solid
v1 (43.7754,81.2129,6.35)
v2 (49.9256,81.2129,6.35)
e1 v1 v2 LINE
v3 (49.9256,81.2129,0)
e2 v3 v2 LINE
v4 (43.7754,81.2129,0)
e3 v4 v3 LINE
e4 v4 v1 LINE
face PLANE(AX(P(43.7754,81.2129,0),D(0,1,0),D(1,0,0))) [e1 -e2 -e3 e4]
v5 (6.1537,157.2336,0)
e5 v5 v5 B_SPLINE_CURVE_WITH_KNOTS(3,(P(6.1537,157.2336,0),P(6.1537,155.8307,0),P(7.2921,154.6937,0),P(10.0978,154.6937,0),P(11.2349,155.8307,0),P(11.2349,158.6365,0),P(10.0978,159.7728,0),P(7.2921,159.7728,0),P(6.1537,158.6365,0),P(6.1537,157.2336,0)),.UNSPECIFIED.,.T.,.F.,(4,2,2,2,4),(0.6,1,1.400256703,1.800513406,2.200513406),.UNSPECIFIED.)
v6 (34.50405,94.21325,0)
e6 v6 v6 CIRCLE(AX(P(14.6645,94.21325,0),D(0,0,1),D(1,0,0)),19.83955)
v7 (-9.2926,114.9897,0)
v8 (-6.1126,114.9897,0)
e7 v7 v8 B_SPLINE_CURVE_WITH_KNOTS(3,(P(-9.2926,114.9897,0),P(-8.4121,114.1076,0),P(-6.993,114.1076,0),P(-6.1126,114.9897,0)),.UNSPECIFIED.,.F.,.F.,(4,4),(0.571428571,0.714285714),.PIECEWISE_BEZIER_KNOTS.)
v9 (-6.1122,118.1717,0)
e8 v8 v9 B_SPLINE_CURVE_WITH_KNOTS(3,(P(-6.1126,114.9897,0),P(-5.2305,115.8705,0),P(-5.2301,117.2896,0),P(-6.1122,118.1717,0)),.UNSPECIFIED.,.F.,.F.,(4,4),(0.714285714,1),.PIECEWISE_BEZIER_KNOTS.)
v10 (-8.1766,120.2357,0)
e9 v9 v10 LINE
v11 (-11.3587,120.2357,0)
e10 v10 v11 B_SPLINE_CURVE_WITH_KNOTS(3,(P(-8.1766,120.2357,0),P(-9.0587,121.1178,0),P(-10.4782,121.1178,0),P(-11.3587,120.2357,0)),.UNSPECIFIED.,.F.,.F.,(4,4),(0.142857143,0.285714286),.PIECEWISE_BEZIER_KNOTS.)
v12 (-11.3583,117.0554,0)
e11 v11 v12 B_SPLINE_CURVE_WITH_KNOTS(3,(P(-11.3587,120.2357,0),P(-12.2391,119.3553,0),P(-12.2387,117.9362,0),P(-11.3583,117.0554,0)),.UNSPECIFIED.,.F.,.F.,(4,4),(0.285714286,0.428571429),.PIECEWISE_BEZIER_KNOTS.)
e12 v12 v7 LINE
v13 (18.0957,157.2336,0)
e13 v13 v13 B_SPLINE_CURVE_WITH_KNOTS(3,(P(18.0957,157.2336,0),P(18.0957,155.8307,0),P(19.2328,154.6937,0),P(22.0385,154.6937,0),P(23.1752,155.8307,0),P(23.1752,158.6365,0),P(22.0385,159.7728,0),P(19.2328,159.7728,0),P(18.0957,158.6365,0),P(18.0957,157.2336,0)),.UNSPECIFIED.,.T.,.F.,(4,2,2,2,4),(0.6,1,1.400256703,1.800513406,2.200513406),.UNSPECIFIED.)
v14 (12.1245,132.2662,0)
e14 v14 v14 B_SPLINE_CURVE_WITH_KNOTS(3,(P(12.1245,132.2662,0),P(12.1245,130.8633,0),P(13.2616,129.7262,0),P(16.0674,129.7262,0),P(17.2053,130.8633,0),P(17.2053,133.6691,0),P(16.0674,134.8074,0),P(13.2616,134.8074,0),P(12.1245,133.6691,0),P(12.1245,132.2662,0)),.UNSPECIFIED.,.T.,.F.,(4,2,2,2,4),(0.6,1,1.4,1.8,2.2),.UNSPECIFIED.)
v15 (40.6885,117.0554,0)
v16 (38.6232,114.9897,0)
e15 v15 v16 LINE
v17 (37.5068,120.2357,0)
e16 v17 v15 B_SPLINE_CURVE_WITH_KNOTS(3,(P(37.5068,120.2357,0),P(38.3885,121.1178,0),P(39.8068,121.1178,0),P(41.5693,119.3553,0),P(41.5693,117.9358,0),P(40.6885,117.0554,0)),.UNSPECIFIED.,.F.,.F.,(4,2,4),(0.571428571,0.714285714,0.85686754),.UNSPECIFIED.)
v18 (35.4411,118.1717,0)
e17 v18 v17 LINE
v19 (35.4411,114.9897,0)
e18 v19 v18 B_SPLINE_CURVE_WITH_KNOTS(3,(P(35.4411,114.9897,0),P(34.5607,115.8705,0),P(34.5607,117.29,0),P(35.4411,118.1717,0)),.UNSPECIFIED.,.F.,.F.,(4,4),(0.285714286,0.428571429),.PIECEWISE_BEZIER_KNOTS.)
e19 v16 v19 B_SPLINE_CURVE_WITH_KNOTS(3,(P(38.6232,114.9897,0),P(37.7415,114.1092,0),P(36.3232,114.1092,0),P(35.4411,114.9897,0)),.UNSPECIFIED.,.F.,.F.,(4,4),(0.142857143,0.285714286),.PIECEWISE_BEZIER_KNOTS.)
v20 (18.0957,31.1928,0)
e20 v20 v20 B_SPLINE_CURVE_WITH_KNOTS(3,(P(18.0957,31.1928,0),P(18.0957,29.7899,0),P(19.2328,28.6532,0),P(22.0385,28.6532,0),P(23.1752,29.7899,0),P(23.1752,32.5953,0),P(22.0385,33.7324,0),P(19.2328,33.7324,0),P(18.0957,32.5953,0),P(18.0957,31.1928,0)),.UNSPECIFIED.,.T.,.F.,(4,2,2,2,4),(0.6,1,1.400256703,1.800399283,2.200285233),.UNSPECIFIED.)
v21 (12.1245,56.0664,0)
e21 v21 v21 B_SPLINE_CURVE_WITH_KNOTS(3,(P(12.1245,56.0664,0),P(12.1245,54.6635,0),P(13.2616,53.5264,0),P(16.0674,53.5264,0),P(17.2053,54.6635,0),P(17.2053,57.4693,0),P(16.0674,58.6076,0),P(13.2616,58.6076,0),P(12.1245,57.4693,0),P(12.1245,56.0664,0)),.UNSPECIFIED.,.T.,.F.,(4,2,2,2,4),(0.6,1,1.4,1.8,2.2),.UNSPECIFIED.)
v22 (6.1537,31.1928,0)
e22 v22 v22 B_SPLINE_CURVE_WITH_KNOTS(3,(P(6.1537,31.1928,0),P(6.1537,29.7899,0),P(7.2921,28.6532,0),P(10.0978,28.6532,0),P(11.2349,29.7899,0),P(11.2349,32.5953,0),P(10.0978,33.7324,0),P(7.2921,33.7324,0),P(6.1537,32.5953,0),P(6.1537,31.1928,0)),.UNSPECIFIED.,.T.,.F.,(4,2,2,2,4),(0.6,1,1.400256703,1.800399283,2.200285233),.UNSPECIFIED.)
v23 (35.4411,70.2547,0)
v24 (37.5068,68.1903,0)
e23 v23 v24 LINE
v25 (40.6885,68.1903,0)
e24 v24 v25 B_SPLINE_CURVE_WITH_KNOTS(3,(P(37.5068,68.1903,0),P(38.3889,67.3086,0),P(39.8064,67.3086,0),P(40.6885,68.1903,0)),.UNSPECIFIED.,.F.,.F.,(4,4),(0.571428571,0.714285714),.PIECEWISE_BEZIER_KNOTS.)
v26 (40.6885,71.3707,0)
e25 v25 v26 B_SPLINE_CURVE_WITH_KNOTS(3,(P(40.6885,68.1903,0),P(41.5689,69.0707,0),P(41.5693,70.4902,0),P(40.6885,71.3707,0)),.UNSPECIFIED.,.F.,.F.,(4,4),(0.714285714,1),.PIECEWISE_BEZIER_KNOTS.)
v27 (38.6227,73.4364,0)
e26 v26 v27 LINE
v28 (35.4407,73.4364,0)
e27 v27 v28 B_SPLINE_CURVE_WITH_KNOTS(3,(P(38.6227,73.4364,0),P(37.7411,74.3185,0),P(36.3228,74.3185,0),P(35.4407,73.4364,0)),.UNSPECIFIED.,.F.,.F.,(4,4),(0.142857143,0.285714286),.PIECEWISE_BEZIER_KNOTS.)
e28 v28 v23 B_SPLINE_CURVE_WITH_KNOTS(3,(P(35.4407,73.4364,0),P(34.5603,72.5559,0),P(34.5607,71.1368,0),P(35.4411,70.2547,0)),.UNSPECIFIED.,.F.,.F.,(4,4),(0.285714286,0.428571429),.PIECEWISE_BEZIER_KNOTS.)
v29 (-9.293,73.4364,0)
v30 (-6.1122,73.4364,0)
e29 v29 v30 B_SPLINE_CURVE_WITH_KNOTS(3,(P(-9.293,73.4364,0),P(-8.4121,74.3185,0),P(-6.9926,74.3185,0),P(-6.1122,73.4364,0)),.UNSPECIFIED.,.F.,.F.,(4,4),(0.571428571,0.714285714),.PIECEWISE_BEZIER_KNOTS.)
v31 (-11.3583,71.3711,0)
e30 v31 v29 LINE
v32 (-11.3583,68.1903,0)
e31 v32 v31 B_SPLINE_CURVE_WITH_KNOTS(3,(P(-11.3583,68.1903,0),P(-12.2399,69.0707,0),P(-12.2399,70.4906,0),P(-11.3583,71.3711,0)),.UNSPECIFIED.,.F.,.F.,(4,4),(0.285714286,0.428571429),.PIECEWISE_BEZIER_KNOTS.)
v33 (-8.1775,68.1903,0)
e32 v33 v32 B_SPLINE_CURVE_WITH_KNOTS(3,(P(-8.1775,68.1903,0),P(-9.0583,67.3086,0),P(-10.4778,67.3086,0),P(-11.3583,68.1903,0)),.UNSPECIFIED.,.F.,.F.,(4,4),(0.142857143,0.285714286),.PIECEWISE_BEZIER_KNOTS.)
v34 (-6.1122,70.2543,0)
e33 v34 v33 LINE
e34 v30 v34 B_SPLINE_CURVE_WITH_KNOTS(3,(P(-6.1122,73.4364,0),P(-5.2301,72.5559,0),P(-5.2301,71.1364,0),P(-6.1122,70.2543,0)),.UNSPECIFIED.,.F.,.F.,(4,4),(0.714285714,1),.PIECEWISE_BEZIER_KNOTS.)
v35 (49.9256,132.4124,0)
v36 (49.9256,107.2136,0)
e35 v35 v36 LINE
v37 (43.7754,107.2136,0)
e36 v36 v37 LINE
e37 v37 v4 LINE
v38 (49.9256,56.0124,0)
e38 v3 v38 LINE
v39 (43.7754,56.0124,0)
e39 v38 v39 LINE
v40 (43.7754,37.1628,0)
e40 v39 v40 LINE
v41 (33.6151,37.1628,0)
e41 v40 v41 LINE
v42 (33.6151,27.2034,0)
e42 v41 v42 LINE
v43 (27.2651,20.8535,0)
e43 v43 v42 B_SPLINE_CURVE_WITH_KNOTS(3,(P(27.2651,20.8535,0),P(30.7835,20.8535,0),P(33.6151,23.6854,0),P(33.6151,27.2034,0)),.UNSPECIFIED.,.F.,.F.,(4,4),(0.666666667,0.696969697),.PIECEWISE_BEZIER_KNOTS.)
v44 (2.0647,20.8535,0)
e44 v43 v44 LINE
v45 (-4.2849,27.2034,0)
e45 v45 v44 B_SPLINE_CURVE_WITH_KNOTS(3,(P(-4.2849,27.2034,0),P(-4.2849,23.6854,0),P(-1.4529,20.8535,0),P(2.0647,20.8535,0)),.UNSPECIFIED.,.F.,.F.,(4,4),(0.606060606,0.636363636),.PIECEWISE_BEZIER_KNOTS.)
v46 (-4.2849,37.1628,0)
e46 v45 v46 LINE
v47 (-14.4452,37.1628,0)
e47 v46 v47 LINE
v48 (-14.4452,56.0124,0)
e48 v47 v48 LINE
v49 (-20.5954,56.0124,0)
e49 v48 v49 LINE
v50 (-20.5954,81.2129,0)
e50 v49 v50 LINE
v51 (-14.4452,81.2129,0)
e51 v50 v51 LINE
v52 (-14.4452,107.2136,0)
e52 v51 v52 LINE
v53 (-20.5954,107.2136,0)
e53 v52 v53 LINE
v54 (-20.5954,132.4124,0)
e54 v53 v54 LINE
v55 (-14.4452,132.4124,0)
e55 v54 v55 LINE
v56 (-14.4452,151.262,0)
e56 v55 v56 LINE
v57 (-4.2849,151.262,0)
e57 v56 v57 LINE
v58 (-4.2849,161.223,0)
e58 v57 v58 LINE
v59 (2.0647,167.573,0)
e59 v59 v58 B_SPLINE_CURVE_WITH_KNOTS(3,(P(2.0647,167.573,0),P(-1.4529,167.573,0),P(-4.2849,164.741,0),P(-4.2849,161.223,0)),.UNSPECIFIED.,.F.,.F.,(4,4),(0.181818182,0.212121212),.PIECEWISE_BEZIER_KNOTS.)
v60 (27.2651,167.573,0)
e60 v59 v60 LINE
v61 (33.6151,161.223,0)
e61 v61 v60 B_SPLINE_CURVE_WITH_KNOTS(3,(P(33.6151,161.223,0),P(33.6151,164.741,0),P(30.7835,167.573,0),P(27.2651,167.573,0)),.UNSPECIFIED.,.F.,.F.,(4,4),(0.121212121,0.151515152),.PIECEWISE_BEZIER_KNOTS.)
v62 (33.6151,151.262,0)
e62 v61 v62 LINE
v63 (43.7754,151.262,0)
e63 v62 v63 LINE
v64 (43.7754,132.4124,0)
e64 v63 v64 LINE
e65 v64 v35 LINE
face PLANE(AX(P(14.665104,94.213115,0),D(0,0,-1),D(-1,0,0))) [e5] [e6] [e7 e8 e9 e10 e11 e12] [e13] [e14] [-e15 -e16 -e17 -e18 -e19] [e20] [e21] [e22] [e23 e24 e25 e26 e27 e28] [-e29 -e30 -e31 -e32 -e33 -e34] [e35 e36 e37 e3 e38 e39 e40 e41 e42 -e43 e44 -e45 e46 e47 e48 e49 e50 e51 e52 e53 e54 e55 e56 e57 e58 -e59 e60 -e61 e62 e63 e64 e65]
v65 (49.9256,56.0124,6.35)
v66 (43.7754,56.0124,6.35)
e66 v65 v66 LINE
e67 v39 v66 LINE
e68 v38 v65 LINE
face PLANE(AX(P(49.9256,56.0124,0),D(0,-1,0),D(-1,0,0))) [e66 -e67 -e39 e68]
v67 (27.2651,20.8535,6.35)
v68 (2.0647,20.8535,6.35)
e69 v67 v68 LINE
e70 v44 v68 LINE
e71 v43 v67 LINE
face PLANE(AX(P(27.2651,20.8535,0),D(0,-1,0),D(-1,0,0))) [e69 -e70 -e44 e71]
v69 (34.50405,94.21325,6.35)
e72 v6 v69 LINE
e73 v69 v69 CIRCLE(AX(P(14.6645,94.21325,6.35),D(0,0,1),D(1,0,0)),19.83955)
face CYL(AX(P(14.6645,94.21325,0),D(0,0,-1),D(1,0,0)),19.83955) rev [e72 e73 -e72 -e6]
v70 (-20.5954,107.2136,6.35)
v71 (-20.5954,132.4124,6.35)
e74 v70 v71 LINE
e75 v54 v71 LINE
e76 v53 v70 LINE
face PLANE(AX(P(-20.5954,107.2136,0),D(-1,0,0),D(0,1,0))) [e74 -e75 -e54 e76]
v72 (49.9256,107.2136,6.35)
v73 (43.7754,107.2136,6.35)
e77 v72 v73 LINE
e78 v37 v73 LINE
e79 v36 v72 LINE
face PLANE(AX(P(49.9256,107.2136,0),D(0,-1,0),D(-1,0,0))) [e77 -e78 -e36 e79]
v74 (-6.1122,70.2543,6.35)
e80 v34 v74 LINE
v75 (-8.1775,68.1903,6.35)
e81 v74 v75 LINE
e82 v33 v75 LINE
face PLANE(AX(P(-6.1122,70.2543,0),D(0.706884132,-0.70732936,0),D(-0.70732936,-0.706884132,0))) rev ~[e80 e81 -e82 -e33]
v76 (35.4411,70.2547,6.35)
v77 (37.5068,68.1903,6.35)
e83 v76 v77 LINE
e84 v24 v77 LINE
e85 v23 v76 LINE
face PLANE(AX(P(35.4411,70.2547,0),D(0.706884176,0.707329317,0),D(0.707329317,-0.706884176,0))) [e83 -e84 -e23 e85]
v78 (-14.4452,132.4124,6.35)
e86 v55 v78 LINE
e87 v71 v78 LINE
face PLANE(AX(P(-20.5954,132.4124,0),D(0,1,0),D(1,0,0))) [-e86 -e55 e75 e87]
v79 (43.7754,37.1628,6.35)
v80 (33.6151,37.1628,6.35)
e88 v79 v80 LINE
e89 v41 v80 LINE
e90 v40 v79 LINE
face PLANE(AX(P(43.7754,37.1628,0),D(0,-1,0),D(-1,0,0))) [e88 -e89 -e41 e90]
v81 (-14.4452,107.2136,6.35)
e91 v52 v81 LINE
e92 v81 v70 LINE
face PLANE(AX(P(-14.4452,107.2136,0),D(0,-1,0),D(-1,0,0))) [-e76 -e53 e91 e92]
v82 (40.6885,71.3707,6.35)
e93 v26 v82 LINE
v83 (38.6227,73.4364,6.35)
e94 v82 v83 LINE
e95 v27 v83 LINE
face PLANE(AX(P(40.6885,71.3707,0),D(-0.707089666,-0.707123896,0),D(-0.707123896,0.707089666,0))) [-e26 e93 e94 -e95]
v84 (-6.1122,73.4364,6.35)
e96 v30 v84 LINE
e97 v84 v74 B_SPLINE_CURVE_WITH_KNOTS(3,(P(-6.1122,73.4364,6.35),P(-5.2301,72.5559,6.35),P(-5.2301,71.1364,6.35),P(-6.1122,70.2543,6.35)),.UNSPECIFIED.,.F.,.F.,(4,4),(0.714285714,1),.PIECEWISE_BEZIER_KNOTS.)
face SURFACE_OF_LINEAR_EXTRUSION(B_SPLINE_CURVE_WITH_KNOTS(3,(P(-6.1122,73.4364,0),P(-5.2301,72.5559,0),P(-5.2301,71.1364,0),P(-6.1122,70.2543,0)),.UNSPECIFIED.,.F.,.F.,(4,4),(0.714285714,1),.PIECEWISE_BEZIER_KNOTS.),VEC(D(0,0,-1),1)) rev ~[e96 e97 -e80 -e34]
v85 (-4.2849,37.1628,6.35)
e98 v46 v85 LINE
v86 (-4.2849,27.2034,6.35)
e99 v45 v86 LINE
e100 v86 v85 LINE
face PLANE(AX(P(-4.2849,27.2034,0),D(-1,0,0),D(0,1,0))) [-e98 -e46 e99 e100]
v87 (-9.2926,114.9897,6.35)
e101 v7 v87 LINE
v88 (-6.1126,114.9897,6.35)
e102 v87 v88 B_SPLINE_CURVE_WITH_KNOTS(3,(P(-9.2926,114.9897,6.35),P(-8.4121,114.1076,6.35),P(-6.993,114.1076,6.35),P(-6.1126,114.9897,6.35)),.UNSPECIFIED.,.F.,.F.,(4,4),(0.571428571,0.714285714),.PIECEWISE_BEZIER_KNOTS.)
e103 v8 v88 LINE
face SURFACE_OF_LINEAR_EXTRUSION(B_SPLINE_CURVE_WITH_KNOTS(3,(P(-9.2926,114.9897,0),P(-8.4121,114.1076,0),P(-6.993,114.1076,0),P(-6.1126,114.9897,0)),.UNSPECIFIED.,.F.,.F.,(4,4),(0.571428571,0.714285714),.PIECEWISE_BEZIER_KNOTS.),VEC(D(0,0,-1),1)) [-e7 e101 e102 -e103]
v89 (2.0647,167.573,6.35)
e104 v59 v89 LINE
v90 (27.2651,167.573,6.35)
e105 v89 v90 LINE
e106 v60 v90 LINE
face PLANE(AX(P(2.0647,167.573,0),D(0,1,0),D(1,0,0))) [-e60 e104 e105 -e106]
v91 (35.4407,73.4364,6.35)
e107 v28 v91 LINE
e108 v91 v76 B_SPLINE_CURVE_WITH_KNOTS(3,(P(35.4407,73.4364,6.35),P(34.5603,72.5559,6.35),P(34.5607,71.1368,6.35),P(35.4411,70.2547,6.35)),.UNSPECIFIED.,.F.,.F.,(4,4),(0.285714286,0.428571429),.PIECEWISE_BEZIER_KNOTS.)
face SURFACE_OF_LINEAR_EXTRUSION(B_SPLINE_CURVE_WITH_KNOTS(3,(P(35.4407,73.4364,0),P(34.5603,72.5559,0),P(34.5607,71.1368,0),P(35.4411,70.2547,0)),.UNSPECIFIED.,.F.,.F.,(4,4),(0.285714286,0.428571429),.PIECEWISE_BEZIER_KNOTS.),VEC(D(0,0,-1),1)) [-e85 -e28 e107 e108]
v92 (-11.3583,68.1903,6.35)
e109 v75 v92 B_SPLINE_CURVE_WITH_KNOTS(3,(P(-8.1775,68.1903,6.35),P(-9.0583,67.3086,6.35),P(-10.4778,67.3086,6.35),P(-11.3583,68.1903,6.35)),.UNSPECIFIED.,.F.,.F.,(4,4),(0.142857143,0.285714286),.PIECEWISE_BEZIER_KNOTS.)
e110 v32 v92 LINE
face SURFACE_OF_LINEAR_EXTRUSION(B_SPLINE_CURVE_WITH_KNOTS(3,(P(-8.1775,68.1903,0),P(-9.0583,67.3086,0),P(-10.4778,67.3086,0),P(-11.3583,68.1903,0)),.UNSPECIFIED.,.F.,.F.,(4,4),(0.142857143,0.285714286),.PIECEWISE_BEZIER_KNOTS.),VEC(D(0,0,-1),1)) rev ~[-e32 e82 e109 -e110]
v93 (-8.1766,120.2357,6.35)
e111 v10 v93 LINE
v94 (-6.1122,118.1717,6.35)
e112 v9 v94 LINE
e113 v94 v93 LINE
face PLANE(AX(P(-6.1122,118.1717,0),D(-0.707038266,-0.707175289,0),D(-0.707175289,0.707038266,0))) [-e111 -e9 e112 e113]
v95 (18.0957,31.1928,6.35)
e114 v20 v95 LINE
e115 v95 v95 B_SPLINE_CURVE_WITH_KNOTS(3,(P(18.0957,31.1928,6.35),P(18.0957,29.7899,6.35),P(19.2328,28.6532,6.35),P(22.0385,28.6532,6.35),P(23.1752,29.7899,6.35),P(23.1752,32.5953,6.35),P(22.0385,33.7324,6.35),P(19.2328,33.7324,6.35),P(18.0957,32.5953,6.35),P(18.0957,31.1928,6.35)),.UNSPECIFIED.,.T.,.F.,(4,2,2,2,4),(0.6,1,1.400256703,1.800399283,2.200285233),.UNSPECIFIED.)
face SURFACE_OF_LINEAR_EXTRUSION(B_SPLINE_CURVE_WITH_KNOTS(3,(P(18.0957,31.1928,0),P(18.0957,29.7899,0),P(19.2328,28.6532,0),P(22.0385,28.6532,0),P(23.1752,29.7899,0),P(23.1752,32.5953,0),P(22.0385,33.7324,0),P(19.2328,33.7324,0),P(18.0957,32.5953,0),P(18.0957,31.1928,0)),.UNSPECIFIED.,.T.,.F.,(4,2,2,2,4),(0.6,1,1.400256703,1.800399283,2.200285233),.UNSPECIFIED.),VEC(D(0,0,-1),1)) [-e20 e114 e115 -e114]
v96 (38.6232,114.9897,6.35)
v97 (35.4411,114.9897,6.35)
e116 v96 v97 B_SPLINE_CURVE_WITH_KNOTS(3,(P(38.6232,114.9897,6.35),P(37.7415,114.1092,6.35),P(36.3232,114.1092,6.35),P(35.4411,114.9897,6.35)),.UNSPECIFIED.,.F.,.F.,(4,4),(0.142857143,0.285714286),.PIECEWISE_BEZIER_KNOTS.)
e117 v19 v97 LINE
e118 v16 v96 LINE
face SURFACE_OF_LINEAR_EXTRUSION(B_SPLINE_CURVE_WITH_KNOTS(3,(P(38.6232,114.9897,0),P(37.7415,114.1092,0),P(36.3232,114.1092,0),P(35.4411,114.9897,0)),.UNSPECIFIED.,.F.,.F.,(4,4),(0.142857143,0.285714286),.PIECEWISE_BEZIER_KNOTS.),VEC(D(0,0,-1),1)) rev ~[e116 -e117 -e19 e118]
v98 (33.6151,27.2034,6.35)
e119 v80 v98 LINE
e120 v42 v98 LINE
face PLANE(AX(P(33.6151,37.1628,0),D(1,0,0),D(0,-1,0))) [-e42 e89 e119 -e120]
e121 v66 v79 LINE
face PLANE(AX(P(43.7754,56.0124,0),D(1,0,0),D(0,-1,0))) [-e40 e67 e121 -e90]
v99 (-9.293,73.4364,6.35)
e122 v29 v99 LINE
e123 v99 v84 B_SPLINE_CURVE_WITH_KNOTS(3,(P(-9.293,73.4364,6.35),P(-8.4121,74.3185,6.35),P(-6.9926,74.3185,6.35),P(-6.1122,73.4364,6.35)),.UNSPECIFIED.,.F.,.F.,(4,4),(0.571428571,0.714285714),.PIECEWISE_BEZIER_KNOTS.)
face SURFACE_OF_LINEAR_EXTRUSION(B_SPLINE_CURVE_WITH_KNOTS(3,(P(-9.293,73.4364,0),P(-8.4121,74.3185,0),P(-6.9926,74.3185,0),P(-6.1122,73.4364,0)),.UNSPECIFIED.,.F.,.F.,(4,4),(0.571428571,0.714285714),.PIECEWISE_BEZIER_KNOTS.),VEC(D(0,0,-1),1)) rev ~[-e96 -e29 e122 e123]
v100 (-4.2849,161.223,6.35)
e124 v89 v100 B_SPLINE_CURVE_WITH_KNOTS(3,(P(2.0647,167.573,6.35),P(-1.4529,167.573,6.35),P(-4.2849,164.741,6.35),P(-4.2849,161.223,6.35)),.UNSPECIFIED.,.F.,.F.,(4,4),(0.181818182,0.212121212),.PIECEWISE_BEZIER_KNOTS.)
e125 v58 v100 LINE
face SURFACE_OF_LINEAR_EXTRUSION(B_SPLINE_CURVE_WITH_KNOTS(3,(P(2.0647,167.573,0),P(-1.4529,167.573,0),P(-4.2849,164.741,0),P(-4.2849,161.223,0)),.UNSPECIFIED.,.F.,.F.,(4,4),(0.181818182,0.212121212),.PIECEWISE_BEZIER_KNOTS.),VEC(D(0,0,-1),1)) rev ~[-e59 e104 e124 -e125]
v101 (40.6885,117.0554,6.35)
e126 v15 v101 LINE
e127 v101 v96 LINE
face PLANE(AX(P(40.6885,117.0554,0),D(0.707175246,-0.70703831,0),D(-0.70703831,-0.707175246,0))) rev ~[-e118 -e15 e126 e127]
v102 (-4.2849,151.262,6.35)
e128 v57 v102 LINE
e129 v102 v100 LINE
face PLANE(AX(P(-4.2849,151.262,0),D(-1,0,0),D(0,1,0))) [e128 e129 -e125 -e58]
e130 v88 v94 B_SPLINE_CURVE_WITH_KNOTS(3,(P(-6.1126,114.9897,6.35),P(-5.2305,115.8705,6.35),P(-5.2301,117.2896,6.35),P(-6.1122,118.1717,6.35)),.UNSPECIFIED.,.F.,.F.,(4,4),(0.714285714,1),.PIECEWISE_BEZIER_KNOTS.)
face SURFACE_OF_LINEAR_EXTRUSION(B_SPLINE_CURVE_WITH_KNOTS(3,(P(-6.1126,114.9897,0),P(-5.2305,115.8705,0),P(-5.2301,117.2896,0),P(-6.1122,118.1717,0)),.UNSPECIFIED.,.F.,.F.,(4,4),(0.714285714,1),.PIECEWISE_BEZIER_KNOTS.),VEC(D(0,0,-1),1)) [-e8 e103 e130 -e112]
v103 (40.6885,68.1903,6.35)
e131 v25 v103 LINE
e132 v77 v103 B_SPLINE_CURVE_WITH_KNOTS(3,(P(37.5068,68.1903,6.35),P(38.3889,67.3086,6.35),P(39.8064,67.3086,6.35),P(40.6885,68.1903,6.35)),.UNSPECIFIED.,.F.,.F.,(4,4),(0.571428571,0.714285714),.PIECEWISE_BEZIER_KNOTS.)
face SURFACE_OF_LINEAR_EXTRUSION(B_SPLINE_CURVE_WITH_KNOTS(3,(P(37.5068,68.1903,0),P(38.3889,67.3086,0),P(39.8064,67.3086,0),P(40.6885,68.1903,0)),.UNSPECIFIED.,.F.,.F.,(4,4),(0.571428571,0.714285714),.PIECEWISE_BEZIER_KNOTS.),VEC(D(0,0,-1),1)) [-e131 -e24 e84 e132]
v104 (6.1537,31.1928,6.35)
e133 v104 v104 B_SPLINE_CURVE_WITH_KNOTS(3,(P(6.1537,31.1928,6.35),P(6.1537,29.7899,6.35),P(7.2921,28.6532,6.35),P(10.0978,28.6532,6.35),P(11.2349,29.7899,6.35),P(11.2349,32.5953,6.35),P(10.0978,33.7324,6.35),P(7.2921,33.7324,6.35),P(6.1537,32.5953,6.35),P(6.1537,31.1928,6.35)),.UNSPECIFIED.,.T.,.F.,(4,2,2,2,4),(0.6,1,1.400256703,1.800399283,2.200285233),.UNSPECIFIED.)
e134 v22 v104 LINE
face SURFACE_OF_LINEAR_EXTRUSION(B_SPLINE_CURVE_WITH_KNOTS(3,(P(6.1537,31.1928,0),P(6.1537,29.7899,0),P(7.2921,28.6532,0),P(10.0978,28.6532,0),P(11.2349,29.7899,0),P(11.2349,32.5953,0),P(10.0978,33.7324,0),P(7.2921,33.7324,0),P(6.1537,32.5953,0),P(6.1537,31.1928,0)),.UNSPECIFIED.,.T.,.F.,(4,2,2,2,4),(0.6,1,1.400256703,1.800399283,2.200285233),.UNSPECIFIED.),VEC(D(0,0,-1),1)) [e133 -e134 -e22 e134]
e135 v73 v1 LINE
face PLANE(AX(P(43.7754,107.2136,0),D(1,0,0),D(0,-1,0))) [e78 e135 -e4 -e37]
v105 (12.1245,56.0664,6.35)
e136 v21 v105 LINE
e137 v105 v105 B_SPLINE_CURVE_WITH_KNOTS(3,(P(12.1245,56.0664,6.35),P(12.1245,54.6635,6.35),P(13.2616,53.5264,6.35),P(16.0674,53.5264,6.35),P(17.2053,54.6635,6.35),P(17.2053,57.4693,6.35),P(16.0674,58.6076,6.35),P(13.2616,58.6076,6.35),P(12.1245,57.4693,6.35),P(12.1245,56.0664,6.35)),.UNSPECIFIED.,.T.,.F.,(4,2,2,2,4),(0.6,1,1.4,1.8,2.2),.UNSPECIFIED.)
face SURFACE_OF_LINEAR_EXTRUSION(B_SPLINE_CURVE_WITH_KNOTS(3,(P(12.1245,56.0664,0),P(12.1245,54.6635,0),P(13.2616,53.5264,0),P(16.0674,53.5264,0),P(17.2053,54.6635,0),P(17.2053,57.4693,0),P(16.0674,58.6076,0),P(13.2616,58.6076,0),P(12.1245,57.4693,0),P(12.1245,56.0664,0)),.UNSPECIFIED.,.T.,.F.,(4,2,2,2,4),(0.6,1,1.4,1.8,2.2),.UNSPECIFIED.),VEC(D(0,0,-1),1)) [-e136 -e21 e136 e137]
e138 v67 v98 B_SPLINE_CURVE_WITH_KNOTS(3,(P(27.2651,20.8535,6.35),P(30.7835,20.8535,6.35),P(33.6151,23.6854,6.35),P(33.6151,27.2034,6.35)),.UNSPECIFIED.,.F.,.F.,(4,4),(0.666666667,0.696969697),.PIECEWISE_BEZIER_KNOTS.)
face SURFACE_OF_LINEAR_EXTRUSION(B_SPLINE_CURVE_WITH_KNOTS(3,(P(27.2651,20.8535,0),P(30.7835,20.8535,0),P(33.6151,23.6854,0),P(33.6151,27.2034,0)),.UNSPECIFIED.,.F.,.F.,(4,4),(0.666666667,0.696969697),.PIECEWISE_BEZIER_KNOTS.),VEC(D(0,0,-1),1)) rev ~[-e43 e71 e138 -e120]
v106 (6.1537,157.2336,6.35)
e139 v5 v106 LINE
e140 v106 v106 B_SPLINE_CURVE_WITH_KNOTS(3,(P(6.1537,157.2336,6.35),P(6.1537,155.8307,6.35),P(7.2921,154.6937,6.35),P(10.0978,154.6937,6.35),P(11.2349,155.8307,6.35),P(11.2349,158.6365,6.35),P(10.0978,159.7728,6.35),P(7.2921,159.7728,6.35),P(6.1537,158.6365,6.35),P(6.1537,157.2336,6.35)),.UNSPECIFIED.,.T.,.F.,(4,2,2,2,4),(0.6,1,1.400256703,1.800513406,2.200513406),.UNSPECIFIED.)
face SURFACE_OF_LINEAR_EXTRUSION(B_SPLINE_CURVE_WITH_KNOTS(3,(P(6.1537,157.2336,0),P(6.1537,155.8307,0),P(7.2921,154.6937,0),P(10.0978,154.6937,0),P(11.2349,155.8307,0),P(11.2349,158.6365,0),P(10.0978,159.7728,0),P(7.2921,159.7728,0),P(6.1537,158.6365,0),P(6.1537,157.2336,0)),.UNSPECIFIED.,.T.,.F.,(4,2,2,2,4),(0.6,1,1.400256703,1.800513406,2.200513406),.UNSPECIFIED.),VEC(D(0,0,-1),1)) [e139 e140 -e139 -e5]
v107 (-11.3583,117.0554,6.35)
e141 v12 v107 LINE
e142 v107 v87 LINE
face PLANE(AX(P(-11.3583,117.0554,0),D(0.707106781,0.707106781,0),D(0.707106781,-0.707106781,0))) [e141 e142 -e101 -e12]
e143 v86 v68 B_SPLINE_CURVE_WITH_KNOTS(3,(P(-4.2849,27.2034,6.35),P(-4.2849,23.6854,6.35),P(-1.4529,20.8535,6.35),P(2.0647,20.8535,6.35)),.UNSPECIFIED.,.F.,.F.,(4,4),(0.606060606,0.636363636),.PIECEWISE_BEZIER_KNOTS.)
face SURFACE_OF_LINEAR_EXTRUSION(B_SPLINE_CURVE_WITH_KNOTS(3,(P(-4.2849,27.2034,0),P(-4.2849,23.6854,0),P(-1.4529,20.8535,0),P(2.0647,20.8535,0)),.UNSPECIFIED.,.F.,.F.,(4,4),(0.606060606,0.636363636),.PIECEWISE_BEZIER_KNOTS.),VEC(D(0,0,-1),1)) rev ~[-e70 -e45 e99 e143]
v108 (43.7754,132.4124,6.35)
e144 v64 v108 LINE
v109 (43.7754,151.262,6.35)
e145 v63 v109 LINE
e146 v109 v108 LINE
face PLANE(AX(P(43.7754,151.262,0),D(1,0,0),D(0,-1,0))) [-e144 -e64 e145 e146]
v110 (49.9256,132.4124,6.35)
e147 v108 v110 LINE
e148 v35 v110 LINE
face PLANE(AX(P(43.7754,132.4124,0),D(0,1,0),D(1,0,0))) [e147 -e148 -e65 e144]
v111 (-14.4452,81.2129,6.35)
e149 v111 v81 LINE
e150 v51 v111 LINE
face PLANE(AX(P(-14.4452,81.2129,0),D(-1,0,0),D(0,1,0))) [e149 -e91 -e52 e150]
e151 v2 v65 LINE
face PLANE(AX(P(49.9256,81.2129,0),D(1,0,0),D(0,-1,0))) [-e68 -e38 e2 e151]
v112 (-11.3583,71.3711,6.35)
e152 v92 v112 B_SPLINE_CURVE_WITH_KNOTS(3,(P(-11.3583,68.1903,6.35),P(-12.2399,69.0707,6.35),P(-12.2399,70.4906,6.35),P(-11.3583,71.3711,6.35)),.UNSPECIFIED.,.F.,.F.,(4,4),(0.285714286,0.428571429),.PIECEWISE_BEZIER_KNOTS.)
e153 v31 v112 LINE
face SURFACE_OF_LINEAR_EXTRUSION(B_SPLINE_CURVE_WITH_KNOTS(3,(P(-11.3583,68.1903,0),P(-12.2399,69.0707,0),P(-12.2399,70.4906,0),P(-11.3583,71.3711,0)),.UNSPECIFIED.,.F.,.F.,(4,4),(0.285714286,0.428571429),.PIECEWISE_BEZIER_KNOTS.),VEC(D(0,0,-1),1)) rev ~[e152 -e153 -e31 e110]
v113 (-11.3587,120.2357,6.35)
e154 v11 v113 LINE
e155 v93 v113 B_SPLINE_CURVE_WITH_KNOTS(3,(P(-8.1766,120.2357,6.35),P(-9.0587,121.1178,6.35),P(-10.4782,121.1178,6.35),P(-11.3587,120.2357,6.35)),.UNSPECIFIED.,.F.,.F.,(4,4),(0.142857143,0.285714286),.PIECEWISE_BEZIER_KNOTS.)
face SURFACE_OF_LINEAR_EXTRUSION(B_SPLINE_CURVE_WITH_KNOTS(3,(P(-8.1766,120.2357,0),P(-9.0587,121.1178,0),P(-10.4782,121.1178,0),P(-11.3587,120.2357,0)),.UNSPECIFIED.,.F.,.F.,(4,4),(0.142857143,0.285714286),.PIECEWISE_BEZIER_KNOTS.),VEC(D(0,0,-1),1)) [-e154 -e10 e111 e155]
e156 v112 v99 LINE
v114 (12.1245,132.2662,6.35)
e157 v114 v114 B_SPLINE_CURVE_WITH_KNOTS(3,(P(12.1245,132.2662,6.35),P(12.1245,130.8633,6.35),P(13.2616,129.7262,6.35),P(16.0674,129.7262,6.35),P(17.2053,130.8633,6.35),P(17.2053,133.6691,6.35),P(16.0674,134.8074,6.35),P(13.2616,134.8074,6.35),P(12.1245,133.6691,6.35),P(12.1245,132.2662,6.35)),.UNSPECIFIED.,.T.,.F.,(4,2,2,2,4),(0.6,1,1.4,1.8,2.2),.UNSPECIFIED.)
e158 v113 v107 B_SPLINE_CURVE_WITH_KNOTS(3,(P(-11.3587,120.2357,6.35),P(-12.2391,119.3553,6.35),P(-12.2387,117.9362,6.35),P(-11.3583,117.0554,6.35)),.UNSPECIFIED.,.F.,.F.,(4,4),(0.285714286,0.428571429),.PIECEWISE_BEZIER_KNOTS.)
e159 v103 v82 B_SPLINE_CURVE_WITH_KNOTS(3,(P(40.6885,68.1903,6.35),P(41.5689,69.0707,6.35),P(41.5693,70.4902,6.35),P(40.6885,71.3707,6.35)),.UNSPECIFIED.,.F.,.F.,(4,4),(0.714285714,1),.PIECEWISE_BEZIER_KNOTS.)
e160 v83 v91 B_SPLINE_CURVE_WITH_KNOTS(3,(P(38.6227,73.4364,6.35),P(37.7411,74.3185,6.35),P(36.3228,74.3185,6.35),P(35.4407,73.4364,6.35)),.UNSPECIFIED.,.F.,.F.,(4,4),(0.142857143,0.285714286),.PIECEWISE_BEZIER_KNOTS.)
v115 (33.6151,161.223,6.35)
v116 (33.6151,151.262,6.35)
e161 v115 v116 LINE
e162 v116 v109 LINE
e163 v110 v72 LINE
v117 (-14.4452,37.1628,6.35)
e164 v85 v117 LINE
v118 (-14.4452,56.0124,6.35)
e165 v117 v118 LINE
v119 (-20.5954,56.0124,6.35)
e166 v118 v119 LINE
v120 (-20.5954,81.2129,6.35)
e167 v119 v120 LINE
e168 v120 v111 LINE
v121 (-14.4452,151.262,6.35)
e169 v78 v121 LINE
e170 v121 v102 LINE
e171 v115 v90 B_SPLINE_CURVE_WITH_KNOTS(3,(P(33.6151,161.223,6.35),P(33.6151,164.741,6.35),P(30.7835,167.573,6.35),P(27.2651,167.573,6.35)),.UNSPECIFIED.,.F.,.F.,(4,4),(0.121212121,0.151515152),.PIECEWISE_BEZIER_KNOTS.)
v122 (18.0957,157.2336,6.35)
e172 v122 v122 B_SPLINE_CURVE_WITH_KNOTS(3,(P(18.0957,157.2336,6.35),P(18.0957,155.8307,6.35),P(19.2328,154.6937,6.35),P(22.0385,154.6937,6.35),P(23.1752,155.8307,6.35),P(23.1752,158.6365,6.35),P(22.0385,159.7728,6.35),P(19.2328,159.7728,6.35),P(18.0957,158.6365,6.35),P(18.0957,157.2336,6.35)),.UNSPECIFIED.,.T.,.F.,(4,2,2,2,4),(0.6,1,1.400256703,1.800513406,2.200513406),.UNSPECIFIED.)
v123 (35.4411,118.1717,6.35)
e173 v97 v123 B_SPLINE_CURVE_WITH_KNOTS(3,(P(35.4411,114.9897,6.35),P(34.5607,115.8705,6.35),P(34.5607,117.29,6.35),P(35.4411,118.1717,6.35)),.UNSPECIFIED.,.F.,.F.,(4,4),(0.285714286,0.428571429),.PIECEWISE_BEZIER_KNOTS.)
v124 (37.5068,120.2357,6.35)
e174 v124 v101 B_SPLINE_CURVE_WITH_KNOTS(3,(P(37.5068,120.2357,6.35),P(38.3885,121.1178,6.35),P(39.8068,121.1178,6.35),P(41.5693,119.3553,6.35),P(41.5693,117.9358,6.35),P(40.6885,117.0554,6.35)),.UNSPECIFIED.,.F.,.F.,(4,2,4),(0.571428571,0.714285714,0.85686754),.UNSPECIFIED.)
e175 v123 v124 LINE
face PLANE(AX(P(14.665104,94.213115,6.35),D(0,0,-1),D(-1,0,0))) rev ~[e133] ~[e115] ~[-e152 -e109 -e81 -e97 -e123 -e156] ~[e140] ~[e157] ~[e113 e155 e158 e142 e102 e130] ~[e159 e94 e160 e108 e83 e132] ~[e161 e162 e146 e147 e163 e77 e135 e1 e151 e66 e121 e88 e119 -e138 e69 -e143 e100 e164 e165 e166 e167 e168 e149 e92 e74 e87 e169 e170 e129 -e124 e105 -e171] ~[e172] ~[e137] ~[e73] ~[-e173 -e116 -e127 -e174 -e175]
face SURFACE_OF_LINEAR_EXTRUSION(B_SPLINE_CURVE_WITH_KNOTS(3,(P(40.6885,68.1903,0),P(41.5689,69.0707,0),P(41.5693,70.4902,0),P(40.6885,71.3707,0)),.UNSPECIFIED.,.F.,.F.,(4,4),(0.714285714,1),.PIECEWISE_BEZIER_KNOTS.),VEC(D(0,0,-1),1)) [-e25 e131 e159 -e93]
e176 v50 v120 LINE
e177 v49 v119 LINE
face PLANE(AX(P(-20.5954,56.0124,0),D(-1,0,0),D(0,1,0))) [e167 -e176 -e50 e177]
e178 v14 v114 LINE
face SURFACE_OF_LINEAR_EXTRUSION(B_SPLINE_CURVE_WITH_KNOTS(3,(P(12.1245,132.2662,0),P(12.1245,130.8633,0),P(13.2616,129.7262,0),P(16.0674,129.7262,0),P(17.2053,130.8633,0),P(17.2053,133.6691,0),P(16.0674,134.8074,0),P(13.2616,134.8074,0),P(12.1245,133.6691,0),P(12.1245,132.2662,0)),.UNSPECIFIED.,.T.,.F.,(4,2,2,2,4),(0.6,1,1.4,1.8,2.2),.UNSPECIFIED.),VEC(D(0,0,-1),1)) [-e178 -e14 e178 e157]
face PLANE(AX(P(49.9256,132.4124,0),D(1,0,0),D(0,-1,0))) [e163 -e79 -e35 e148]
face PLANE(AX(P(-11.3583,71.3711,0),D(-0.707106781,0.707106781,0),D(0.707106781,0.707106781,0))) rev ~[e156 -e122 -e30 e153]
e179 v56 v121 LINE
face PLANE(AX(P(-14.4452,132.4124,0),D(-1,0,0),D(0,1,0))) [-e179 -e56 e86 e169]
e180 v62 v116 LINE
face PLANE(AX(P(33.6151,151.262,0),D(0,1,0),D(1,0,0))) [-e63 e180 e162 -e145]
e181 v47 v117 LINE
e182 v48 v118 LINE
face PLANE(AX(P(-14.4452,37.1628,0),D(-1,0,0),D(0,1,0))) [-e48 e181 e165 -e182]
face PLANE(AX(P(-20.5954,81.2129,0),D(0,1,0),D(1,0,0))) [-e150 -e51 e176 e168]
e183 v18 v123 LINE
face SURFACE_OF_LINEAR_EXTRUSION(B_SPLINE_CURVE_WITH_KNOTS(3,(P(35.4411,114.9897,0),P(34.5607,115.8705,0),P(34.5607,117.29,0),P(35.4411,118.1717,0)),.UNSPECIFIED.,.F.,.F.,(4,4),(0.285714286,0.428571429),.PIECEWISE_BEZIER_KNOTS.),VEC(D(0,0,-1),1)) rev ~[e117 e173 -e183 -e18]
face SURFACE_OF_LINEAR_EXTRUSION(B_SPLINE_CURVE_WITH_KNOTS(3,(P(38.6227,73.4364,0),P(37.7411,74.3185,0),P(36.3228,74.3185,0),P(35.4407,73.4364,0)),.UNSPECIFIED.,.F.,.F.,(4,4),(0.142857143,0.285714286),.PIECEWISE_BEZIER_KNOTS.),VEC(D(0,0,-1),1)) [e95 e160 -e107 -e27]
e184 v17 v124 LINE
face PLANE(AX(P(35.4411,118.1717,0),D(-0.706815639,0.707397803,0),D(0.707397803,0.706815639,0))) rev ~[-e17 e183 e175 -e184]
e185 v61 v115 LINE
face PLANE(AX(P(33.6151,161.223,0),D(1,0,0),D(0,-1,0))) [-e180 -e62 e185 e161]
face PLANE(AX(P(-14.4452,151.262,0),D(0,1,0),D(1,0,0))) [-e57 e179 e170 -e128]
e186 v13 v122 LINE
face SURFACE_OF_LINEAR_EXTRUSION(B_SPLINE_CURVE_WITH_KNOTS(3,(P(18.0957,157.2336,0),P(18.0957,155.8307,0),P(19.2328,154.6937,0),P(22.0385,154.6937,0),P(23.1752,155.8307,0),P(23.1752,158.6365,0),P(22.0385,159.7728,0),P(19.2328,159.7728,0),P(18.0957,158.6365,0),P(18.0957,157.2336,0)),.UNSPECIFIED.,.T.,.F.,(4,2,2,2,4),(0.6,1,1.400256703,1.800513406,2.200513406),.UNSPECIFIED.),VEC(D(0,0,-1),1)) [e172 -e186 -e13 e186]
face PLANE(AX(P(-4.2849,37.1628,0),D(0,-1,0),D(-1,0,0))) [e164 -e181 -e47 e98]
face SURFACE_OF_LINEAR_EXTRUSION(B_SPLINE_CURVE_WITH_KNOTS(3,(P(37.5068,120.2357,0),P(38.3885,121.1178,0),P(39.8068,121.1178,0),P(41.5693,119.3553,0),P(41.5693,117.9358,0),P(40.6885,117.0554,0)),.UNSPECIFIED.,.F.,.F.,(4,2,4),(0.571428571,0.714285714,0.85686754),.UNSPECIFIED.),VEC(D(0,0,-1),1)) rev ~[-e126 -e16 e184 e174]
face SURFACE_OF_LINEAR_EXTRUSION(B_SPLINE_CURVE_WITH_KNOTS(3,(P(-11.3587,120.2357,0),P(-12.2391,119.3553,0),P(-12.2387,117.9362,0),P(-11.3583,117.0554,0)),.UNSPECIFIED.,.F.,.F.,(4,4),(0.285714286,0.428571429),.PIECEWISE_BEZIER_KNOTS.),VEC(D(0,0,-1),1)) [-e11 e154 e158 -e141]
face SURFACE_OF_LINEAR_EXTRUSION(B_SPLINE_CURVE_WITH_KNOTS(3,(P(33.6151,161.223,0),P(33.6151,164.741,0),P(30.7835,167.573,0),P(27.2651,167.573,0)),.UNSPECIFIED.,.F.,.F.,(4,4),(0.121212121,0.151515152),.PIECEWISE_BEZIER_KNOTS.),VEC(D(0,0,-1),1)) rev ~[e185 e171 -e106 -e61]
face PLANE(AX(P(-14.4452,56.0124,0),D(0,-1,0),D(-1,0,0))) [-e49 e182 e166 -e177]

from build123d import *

# Parameters (mm, degrees)
MODEL_R             = 19.83955
BOSS_EXTRUDE1_DEPTH = 6.35


with BuildPart() as part:
    # Model → Boss-Extrude1 (new body)
    with BuildSketch(Plane.XY):
        with BuildLine():
            Line((-20.5954, 56.0124), (-20.5954, 81.2129))
            Line((-20.5954, 81.2129), (-14.4452, 81.2129))
            Line((-14.4452, 81.2129), (-14.4452, 107.2136))
            Line((-14.4452, 107.2136), (-20.5954, 107.2136))
            Line((-20.5954, 107.2136), (-20.5954, 132.4124))
            Line((-20.5954, 132.4124), (-14.4452, 132.4124))
            Line((-14.4452, 132.4124), (-14.4452, 151.262))
            Line((-14.4452, 151.262), (-4.2849, 151.262))
            Line((-4.2849, 151.262), (-4.2849, 161.223))
            add(Edge.make_bspline(
                [(2.0647, 167.573), (-1.4529, 167.573), (-4.2849, 164.741), (-4.2849, 161.223)],
                knots=[0.181818182, 0.181818182, 0.181818182, 0.181818182, 0.212121212, 0.212121212, 0.212121212, 0.212121212], degree=3))
            Line((2.0647, 167.573), (27.2651, 167.573))
            add(Edge.make_bspline(
                [(33.6151, 161.223), (33.6151, 164.741), (30.7835, 167.573), (27.2651, 167.573)],
                knots=[0.121212121, 0.121212121, 0.121212121, 0.121212121, 0.151515152, 0.151515152, 0.151515152, 0.151515152], degree=3))
            Line((33.6151, 161.223), (33.6151, 151.262))
            Line((33.6151, 151.262), (43.7754, 151.262))
            Line((43.7754, 151.262), (43.7754, 132.4124))
            Line((43.7754, 132.4124), (49.9256, 132.4124))
            Line((49.9256, 132.4124), (49.9256, 107.2136))
            Line((49.9256, 107.2136), (43.7754, 107.2136))
            Line((43.7754, 107.2136), (43.7754, 81.2129))
            Line((43.7754, 81.2129), (49.9256, 81.2129))
            Line((49.9256, 81.2129), (49.9256, 56.0124))
            Line((49.9256, 56.0124), (43.7754, 56.0124))
            Line((43.7754, 56.0124), (43.7754, 37.1628))
            Line((43.7754, 37.1628), (33.6151, 37.1628))
            Line((33.6151, 37.1628), (33.6151, 27.2034))
            add(Edge.make_bspline(
                [(27.2651, 20.8535), (30.7835, 20.8535), (33.6151, 23.6854), (33.6151, 27.2034)],
                knots=[0.666666667, 0.666666667, 0.666666667, 0.666666667, 0.696969697, 0.696969697, 0.696969697, 0.696969697], degree=3))
            Line((27.2651, 20.8535), (2.0647, 20.8535))
            add(Edge.make_bspline(
                [(-4.2849, 27.2034), (-4.2849, 23.6854), (-1.4529, 20.8535), (2.0647, 20.8535)],
                knots=[0.606060606, 0.606060606, 0.606060606, 0.606060606, 0.636363636, 0.636363636, 0.636363636, 0.636363636], degree=3))
            Line((-4.2849, 27.2034), (-4.2849, 37.1628))
            Line((-4.2849, 37.1628), (-14.4452, 37.1628))
            Line((-14.4452, 37.1628), (-14.4452, 56.0124))
            Line((-14.4452, 56.0124), (-20.5954, 56.0124))
        make_face()
        with Locations((14.6645, 94.21325)):
            Circle(MODEL_R, mode=Mode.SUBTRACT)
        with BuildLine():
            Line((-6.1122, 70.2543), (-8.1775, 68.1903))
            add(Edge.make_bspline(
                [(-8.1775, 68.1903), (-9.0583, 67.3086), (-10.4778, 67.3086), (-11.3583, 68.1903)],
                knots=[0.142857143, 0.142857143, 0.142857143, 0.142857143, 0.285714286, 0.285714286, 0.285714286, 0.285714286], degree=3))
            add(Edge.make_bspline(
                [(-11.3583, 68.1903), (-12.2399, 69.0707), (-12.2399, 70.4906), (-11.3583, 71.3711)],
                knots=[0.285714286, 0.285714286, 0.285714286, 0.285714286, 0.428571429, 0.428571429, 0.428571429, 0.428571429], degree=3))
            Line((-11.3583, 71.3711), (-9.293, 73.4364))
            add(Edge.make_bspline(
                [(-9.293, 73.4364), (-8.4121, 74.3185), (-6.9926, 74.3185), (-6.1122, 73.4364)],
                knots=[0.571428571, 0.571428571, 0.571428571, 0.571428571, 0.714285714, 0.714285714, 0.714285714, 0.714285714], degree=3))
            add(Edge.make_bspline(
                [(-6.1122, 73.4364), (-5.2301, 72.5559), (-5.2301, 71.1364), (-6.1122, 70.2543)],
                knots=[0.714285714, 0.714285714, 0.714285714, 0.714285714, 1, 1, 1, 1], degree=3))
        make_face(mode=Mode.SUBTRACT)
        with BuildLine():
            Line((40.6885, 117.0554), (38.6232, 114.9897))
            add(Edge.make_bspline(
                [(38.6232, 114.9897), (37.7415, 114.1092), (36.3232, 114.1092), (35.4411, 114.9897)],
                knots=[0.142857143, 0.142857143, 0.142857143, 0.142857143, 0.285714286, 0.285714286, 0.285714286, 0.285714286], degree=3))
            add(Edge.make_bspline(
                [(35.4411, 114.9897), (34.5607, 115.8705), (34.5607, 117.29), (35.4411, 118.1717)],
                knots=[0.285714286, 0.285714286, 0.285714286, 0.285714286, 0.428571429, 0.428571429, 0.428571429, 0.428571429], degree=3))
            Line((35.4411, 118.1717), (37.5068, 120.2357))
            add(Edge.make_bspline(
                [(37.5068, 120.2357), (38.3885, 121.1178), (39.8068, 121.1178), (40.6889, 120.2357)],
                knots=[0.571428571, 0.571428571, 0.571428571, 0.571428571, 0.714285714, 0.714285714, 0.714285714, 0.714285714], degree=3))
            add(Edge.make_bspline(
                [(40.6889, 120.2357), (41.5693, 119.3553), (41.5693, 117.9358), (40.6885, 117.0554)],
                knots=[0.714285714, 0.714285714, 0.714285714, 0.714285714, 1, 1, 1, 1], degree=3))
        make_face(mode=Mode.SUBTRACT)
        with BuildLine():
            Line((40.6885, 71.3707), (38.6227, 73.4364))
            add(Edge.make_bspline(
                [(38.6227, 73.4364), (37.7411, 74.3185), (36.3228, 74.3185), (35.4407, 73.4364)],
                knots=[0.142857143, 0.142857143, 0.142857143, 0.142857143, 0.285714286, 0.285714286, 0.285714286, 0.285714286], degree=3))
            add(Edge.make_bspline(
                [(35.4407, 73.4364), (34.5603, 72.5559), (34.5607, 71.1368), (35.4411, 70.2547)],
                knots=[0.285714286, 0.285714286, 0.285714286, 0.285714286, 0.428571429, 0.428571429, 0.428571429, 0.428571429], degree=3))
            Line((35.4411, 70.2547), (37.5068, 68.1903))
            add(Edge.make_bspline(
                [(37.5068, 68.1903), (38.3889, 67.3086), (39.8064, 67.3086), (40.6885, 68.1903)],
                knots=[0.571428571, 0.571428571, 0.571428571, 0.571428571, 0.714285714, 0.714285714, 0.714285714, 0.714285714], degree=3))
            add(Edge.make_bspline(
                [(40.6885, 68.1903), (41.5689, 69.0707), (41.5693, 70.4902), (40.6885, 71.3707)],
                knots=[0.714285714, 0.714285714, 0.714285714, 0.714285714, 1, 1, 1, 1], degree=3))
        make_face(mode=Mode.SUBTRACT)
        with BuildLine():
            Line((-6.1122, 118.1717), (-8.1766, 120.2357))
            add(Edge.make_bspline(
                [(-8.1766, 120.2357), (-9.0587, 121.1178), (-10.4782, 121.1178), (-11.3587, 120.2357)],
                knots=[0.142857143, 0.142857143, 0.142857143, 0.142857143, 0.285714286, 0.285714286, 0.285714286, 0.285714286], degree=3))
            add(Edge.make_bspline(
                [(-11.3587, 120.2357), (-12.2391, 119.3553), (-12.2387, 117.9362), (-11.3583, 117.0554)],
                knots=[0.285714286, 0.285714286, 0.285714286, 0.285714286, 0.428571429, 0.428571429, 0.428571429, 0.428571429], degree=3))
            Line((-11.3583, 117.0554), (-9.2926, 114.9897))
            add(Edge.make_bspline(
                [(-9.2926, 114.9897), (-8.4121, 114.1076), (-6.993, 114.1076), (-6.1126, 114.9897)],
                knots=[0.571428571, 0.571428571, 0.571428571, 0.571428571, 0.714285714, 0.714285714, 0.714285714, 0.714285714], degree=3))
            add(Edge.make_bspline(
                [(-6.1126, 114.9897), (-5.2305, 115.8705), (-5.2301, 117.2896), (-6.1122, 118.1717)],
                knots=[0.714285714, 0.714285714, 0.714285714, 0.714285714, 1, 1, 1, 1], degree=3))
        make_face(mode=Mode.SUBTRACT)
        with BuildLine():
            add(Edge.make_bspline(
                [(8.6945, 154.6937), (10.0978, 154.6937), (11.2349, 155.8307), (11.2349, 157.2336)],
                knots=[0, 0, 0, 0, 0.2, 0.2, 0.2, 0.2], degree=3))
            add(Edge.make_bspline(
                [(11.2349, 157.2336), (11.2349, 158.6365), (10.0978, 159.7728), (8.6945, 159.7728)],
                knots=[0.2, 0.2, 0.2, 0.2, 0.4, 0.4, 0.4, 0.4], degree=3))
            add(Edge.make_bspline(
                [(8.6945, 159.7728), (7.2921, 159.7728), (6.1537, 158.6365), (6.1537, 157.2336)],
                knots=[0.4, 0.4, 0.4, 0.4, 0.6, 0.6, 0.6, 0.6], degree=3))
            add(Edge.make_bspline(
                [(6.1537, 157.2336), (6.1537, 155.8307), (7.2921, 154.6937), (8.6945, 154.6937)],
                knots=[0.6, 0.6, 0.6, 0.6, 1, 1, 1, 1], degree=3))
        make_face(mode=Mode.SUBTRACT)
        with BuildLine():
            add(Edge.make_bspline(
                [(8.6945, 28.6532), (10.0978, 28.6532), (11.2349, 29.7899), (11.2349, 31.1928)],
                knots=[0, 0, 0, 0, 0.2, 0.2, 0.2, 0.2], degree=3))
            add(Edge.make_bspline(
                [(11.2349, 31.1928), (11.2349, 32.5953), (10.0978, 33.7324), (8.6945, 33.7324)],
                knots=[0.2, 0.2, 0.2, 0.2, 0.4, 0.4, 0.4, 0.4], degree=3))
            add(Edge.make_bspline(
                [(8.6945, 33.7324), (7.2921, 33.7324), (6.1537, 32.5953), (6.1537, 31.1928)],
                knots=[0.4, 0.4, 0.4, 0.4, 0.6, 0.6, 0.6, 0.6], degree=3))
            add(Edge.make_bspline(
                [(6.1537, 31.1928), (6.1537, 29.7899), (7.2921, 28.6532), (8.6945, 28.6532)],
                knots=[0.6, 0.6, 0.6, 0.6, 1, 1, 1, 1], degree=3))
        make_face(mode=Mode.SUBTRACT)
        with BuildLine():
            add(Edge.make_bspline(
                [(20.6352, 154.6937), (22.0385, 154.6937), (23.1752, 155.8307), (23.1752, 157.2336)],
                knots=[0, 0, 0, 0, 0.2, 0.2, 0.2, 0.2], degree=3))
            add(Edge.make_bspline(
                [(23.1752, 157.2336), (23.1752, 158.6365), (22.0385, 159.7728), (20.6352, 159.7728)],
                knots=[0.2, 0.2, 0.2, 0.2, 0.4, 0.4, 0.4, 0.4], degree=3))
            add(Edge.make_bspline(
                [(20.6352, 159.7728), (19.2328, 159.7728), (18.0957, 158.6365), (18.0957, 157.2336)],
                knots=[0.4, 0.4, 0.4, 0.4, 0.6, 0.6, 0.6, 0.6], degree=3))
            add(Edge.make_bspline(
                [(18.0957, 157.2336), (18.0957, 155.8307), (19.2328, 154.6937), (20.6352, 154.6937)],
                knots=[0.6, 0.6, 0.6, 0.6, 1, 1, 1, 1], degree=3))
        make_face(mode=Mode.SUBTRACT)
        with BuildLine():
            add(Edge.make_bspline(
                [(20.6352, 28.6532), (22.0385, 28.6532), (23.1752, 29.7899), (23.1752, 31.1928)],
                knots=[0, 0, 0, 0, 0.2, 0.2, 0.2, 0.2], degree=3))
            add(Edge.make_bspline(
                [(23.1752, 31.1928), (23.1752, 32.5953), (22.0385, 33.7324), (20.6352, 33.7324)],
                knots=[0.2, 0.2, 0.2, 0.2, 0.4, 0.4, 0.4, 0.4], degree=3))
            add(Edge.make_bspline(
                [(20.6352, 33.7324), (19.2328, 33.7324), (18.0957, 32.5953), (18.0957, 31.1928)],
                knots=[0.4, 0.4, 0.4, 0.4, 0.6, 0.6, 0.6, 0.6], degree=3))
            add(Edge.make_bspline(
                [(18.0957, 31.1928), (18.0957, 29.7899), (19.2328, 28.6532), (20.6352, 28.6532)],
                knots=[0.6, 0.6, 0.6, 0.6, 1, 1, 1, 1], degree=3))
        make_face(mode=Mode.SUBTRACT)
        with BuildLine():
            add(Edge.make_bspline(
                [(14.6645, 129.7262), (16.0674, 129.7262), (17.2053, 130.8633), (17.2053, 132.2662)],
                knots=[0, 0, 0, 0, 0.2, 0.2, 0.2, 0.2], degree=3))
            add(Edge.make_bspline(
                [(17.2053, 132.2662), (17.2053, 133.6691), (16.0674, 134.8074), (14.6645, 134.8074)],
                knots=[0.2, 0.2, 0.2, 0.2, 0.4, 0.4, 0.4, 0.4], degree=3))
            add(Edge.make_bspline(
                [(14.6645, 134.8074), (13.2616, 134.8074), (12.1245, 133.6691), (12.1245, 132.2662)],
                knots=[0.4, 0.4, 0.4, 0.4, 0.6, 0.6, 0.6, 0.6], degree=3))
            add(Edge.make_bspline(
                [(12.1245, 132.2662), (12.1245, 130.8633), (13.2616, 129.7262), (14.6645, 129.7262)],
                knots=[0.6, 0.6, 0.6, 0.6, 1, 1, 1, 1], degree=3))
        make_face(mode=Mode.SUBTRACT)
        with BuildLine():
            add(Edge.make_bspline(
                [(14.6645, 53.5264), (16.0674, 53.5264), (17.2053, 54.6635), (17.2053, 56.0664)],
                knots=[0, 0, 0, 0, 0.2, 0.2, 0.2, 0.2], degree=3))
            add(Edge.make_bspline(
                [(17.2053, 56.0664), (17.2053, 57.4693), (16.0674, 58.6076), (14.6645, 58.6076)],
                knots=[0.2, 0.2, 0.2, 0.2, 0.4, 0.4, 0.4, 0.4], degree=3))
            add(Edge.make_bspline(
                [(14.6645, 58.6076), (13.2616, 58.6076), (12.1245, 57.4693), (12.1245, 56.0664)],
                knots=[0.4, 0.4, 0.4, 0.4, 0.6, 0.6, 0.6, 0.6], degree=3))
            add(Edge.make_bspline(
                [(12.1245, 56.0664), (12.1245, 54.6635), (13.2616, 53.5264), (14.6645, 53.5264)],
                knots=[0.6, 0.6, 0.6, 0.6, 1, 1, 1, 1], degree=3))
        make_face(mode=Mode.SUBTRACT)
    extrude(amount=BOSS_EXTRUDE1_DEPTH)


solid = part.part
